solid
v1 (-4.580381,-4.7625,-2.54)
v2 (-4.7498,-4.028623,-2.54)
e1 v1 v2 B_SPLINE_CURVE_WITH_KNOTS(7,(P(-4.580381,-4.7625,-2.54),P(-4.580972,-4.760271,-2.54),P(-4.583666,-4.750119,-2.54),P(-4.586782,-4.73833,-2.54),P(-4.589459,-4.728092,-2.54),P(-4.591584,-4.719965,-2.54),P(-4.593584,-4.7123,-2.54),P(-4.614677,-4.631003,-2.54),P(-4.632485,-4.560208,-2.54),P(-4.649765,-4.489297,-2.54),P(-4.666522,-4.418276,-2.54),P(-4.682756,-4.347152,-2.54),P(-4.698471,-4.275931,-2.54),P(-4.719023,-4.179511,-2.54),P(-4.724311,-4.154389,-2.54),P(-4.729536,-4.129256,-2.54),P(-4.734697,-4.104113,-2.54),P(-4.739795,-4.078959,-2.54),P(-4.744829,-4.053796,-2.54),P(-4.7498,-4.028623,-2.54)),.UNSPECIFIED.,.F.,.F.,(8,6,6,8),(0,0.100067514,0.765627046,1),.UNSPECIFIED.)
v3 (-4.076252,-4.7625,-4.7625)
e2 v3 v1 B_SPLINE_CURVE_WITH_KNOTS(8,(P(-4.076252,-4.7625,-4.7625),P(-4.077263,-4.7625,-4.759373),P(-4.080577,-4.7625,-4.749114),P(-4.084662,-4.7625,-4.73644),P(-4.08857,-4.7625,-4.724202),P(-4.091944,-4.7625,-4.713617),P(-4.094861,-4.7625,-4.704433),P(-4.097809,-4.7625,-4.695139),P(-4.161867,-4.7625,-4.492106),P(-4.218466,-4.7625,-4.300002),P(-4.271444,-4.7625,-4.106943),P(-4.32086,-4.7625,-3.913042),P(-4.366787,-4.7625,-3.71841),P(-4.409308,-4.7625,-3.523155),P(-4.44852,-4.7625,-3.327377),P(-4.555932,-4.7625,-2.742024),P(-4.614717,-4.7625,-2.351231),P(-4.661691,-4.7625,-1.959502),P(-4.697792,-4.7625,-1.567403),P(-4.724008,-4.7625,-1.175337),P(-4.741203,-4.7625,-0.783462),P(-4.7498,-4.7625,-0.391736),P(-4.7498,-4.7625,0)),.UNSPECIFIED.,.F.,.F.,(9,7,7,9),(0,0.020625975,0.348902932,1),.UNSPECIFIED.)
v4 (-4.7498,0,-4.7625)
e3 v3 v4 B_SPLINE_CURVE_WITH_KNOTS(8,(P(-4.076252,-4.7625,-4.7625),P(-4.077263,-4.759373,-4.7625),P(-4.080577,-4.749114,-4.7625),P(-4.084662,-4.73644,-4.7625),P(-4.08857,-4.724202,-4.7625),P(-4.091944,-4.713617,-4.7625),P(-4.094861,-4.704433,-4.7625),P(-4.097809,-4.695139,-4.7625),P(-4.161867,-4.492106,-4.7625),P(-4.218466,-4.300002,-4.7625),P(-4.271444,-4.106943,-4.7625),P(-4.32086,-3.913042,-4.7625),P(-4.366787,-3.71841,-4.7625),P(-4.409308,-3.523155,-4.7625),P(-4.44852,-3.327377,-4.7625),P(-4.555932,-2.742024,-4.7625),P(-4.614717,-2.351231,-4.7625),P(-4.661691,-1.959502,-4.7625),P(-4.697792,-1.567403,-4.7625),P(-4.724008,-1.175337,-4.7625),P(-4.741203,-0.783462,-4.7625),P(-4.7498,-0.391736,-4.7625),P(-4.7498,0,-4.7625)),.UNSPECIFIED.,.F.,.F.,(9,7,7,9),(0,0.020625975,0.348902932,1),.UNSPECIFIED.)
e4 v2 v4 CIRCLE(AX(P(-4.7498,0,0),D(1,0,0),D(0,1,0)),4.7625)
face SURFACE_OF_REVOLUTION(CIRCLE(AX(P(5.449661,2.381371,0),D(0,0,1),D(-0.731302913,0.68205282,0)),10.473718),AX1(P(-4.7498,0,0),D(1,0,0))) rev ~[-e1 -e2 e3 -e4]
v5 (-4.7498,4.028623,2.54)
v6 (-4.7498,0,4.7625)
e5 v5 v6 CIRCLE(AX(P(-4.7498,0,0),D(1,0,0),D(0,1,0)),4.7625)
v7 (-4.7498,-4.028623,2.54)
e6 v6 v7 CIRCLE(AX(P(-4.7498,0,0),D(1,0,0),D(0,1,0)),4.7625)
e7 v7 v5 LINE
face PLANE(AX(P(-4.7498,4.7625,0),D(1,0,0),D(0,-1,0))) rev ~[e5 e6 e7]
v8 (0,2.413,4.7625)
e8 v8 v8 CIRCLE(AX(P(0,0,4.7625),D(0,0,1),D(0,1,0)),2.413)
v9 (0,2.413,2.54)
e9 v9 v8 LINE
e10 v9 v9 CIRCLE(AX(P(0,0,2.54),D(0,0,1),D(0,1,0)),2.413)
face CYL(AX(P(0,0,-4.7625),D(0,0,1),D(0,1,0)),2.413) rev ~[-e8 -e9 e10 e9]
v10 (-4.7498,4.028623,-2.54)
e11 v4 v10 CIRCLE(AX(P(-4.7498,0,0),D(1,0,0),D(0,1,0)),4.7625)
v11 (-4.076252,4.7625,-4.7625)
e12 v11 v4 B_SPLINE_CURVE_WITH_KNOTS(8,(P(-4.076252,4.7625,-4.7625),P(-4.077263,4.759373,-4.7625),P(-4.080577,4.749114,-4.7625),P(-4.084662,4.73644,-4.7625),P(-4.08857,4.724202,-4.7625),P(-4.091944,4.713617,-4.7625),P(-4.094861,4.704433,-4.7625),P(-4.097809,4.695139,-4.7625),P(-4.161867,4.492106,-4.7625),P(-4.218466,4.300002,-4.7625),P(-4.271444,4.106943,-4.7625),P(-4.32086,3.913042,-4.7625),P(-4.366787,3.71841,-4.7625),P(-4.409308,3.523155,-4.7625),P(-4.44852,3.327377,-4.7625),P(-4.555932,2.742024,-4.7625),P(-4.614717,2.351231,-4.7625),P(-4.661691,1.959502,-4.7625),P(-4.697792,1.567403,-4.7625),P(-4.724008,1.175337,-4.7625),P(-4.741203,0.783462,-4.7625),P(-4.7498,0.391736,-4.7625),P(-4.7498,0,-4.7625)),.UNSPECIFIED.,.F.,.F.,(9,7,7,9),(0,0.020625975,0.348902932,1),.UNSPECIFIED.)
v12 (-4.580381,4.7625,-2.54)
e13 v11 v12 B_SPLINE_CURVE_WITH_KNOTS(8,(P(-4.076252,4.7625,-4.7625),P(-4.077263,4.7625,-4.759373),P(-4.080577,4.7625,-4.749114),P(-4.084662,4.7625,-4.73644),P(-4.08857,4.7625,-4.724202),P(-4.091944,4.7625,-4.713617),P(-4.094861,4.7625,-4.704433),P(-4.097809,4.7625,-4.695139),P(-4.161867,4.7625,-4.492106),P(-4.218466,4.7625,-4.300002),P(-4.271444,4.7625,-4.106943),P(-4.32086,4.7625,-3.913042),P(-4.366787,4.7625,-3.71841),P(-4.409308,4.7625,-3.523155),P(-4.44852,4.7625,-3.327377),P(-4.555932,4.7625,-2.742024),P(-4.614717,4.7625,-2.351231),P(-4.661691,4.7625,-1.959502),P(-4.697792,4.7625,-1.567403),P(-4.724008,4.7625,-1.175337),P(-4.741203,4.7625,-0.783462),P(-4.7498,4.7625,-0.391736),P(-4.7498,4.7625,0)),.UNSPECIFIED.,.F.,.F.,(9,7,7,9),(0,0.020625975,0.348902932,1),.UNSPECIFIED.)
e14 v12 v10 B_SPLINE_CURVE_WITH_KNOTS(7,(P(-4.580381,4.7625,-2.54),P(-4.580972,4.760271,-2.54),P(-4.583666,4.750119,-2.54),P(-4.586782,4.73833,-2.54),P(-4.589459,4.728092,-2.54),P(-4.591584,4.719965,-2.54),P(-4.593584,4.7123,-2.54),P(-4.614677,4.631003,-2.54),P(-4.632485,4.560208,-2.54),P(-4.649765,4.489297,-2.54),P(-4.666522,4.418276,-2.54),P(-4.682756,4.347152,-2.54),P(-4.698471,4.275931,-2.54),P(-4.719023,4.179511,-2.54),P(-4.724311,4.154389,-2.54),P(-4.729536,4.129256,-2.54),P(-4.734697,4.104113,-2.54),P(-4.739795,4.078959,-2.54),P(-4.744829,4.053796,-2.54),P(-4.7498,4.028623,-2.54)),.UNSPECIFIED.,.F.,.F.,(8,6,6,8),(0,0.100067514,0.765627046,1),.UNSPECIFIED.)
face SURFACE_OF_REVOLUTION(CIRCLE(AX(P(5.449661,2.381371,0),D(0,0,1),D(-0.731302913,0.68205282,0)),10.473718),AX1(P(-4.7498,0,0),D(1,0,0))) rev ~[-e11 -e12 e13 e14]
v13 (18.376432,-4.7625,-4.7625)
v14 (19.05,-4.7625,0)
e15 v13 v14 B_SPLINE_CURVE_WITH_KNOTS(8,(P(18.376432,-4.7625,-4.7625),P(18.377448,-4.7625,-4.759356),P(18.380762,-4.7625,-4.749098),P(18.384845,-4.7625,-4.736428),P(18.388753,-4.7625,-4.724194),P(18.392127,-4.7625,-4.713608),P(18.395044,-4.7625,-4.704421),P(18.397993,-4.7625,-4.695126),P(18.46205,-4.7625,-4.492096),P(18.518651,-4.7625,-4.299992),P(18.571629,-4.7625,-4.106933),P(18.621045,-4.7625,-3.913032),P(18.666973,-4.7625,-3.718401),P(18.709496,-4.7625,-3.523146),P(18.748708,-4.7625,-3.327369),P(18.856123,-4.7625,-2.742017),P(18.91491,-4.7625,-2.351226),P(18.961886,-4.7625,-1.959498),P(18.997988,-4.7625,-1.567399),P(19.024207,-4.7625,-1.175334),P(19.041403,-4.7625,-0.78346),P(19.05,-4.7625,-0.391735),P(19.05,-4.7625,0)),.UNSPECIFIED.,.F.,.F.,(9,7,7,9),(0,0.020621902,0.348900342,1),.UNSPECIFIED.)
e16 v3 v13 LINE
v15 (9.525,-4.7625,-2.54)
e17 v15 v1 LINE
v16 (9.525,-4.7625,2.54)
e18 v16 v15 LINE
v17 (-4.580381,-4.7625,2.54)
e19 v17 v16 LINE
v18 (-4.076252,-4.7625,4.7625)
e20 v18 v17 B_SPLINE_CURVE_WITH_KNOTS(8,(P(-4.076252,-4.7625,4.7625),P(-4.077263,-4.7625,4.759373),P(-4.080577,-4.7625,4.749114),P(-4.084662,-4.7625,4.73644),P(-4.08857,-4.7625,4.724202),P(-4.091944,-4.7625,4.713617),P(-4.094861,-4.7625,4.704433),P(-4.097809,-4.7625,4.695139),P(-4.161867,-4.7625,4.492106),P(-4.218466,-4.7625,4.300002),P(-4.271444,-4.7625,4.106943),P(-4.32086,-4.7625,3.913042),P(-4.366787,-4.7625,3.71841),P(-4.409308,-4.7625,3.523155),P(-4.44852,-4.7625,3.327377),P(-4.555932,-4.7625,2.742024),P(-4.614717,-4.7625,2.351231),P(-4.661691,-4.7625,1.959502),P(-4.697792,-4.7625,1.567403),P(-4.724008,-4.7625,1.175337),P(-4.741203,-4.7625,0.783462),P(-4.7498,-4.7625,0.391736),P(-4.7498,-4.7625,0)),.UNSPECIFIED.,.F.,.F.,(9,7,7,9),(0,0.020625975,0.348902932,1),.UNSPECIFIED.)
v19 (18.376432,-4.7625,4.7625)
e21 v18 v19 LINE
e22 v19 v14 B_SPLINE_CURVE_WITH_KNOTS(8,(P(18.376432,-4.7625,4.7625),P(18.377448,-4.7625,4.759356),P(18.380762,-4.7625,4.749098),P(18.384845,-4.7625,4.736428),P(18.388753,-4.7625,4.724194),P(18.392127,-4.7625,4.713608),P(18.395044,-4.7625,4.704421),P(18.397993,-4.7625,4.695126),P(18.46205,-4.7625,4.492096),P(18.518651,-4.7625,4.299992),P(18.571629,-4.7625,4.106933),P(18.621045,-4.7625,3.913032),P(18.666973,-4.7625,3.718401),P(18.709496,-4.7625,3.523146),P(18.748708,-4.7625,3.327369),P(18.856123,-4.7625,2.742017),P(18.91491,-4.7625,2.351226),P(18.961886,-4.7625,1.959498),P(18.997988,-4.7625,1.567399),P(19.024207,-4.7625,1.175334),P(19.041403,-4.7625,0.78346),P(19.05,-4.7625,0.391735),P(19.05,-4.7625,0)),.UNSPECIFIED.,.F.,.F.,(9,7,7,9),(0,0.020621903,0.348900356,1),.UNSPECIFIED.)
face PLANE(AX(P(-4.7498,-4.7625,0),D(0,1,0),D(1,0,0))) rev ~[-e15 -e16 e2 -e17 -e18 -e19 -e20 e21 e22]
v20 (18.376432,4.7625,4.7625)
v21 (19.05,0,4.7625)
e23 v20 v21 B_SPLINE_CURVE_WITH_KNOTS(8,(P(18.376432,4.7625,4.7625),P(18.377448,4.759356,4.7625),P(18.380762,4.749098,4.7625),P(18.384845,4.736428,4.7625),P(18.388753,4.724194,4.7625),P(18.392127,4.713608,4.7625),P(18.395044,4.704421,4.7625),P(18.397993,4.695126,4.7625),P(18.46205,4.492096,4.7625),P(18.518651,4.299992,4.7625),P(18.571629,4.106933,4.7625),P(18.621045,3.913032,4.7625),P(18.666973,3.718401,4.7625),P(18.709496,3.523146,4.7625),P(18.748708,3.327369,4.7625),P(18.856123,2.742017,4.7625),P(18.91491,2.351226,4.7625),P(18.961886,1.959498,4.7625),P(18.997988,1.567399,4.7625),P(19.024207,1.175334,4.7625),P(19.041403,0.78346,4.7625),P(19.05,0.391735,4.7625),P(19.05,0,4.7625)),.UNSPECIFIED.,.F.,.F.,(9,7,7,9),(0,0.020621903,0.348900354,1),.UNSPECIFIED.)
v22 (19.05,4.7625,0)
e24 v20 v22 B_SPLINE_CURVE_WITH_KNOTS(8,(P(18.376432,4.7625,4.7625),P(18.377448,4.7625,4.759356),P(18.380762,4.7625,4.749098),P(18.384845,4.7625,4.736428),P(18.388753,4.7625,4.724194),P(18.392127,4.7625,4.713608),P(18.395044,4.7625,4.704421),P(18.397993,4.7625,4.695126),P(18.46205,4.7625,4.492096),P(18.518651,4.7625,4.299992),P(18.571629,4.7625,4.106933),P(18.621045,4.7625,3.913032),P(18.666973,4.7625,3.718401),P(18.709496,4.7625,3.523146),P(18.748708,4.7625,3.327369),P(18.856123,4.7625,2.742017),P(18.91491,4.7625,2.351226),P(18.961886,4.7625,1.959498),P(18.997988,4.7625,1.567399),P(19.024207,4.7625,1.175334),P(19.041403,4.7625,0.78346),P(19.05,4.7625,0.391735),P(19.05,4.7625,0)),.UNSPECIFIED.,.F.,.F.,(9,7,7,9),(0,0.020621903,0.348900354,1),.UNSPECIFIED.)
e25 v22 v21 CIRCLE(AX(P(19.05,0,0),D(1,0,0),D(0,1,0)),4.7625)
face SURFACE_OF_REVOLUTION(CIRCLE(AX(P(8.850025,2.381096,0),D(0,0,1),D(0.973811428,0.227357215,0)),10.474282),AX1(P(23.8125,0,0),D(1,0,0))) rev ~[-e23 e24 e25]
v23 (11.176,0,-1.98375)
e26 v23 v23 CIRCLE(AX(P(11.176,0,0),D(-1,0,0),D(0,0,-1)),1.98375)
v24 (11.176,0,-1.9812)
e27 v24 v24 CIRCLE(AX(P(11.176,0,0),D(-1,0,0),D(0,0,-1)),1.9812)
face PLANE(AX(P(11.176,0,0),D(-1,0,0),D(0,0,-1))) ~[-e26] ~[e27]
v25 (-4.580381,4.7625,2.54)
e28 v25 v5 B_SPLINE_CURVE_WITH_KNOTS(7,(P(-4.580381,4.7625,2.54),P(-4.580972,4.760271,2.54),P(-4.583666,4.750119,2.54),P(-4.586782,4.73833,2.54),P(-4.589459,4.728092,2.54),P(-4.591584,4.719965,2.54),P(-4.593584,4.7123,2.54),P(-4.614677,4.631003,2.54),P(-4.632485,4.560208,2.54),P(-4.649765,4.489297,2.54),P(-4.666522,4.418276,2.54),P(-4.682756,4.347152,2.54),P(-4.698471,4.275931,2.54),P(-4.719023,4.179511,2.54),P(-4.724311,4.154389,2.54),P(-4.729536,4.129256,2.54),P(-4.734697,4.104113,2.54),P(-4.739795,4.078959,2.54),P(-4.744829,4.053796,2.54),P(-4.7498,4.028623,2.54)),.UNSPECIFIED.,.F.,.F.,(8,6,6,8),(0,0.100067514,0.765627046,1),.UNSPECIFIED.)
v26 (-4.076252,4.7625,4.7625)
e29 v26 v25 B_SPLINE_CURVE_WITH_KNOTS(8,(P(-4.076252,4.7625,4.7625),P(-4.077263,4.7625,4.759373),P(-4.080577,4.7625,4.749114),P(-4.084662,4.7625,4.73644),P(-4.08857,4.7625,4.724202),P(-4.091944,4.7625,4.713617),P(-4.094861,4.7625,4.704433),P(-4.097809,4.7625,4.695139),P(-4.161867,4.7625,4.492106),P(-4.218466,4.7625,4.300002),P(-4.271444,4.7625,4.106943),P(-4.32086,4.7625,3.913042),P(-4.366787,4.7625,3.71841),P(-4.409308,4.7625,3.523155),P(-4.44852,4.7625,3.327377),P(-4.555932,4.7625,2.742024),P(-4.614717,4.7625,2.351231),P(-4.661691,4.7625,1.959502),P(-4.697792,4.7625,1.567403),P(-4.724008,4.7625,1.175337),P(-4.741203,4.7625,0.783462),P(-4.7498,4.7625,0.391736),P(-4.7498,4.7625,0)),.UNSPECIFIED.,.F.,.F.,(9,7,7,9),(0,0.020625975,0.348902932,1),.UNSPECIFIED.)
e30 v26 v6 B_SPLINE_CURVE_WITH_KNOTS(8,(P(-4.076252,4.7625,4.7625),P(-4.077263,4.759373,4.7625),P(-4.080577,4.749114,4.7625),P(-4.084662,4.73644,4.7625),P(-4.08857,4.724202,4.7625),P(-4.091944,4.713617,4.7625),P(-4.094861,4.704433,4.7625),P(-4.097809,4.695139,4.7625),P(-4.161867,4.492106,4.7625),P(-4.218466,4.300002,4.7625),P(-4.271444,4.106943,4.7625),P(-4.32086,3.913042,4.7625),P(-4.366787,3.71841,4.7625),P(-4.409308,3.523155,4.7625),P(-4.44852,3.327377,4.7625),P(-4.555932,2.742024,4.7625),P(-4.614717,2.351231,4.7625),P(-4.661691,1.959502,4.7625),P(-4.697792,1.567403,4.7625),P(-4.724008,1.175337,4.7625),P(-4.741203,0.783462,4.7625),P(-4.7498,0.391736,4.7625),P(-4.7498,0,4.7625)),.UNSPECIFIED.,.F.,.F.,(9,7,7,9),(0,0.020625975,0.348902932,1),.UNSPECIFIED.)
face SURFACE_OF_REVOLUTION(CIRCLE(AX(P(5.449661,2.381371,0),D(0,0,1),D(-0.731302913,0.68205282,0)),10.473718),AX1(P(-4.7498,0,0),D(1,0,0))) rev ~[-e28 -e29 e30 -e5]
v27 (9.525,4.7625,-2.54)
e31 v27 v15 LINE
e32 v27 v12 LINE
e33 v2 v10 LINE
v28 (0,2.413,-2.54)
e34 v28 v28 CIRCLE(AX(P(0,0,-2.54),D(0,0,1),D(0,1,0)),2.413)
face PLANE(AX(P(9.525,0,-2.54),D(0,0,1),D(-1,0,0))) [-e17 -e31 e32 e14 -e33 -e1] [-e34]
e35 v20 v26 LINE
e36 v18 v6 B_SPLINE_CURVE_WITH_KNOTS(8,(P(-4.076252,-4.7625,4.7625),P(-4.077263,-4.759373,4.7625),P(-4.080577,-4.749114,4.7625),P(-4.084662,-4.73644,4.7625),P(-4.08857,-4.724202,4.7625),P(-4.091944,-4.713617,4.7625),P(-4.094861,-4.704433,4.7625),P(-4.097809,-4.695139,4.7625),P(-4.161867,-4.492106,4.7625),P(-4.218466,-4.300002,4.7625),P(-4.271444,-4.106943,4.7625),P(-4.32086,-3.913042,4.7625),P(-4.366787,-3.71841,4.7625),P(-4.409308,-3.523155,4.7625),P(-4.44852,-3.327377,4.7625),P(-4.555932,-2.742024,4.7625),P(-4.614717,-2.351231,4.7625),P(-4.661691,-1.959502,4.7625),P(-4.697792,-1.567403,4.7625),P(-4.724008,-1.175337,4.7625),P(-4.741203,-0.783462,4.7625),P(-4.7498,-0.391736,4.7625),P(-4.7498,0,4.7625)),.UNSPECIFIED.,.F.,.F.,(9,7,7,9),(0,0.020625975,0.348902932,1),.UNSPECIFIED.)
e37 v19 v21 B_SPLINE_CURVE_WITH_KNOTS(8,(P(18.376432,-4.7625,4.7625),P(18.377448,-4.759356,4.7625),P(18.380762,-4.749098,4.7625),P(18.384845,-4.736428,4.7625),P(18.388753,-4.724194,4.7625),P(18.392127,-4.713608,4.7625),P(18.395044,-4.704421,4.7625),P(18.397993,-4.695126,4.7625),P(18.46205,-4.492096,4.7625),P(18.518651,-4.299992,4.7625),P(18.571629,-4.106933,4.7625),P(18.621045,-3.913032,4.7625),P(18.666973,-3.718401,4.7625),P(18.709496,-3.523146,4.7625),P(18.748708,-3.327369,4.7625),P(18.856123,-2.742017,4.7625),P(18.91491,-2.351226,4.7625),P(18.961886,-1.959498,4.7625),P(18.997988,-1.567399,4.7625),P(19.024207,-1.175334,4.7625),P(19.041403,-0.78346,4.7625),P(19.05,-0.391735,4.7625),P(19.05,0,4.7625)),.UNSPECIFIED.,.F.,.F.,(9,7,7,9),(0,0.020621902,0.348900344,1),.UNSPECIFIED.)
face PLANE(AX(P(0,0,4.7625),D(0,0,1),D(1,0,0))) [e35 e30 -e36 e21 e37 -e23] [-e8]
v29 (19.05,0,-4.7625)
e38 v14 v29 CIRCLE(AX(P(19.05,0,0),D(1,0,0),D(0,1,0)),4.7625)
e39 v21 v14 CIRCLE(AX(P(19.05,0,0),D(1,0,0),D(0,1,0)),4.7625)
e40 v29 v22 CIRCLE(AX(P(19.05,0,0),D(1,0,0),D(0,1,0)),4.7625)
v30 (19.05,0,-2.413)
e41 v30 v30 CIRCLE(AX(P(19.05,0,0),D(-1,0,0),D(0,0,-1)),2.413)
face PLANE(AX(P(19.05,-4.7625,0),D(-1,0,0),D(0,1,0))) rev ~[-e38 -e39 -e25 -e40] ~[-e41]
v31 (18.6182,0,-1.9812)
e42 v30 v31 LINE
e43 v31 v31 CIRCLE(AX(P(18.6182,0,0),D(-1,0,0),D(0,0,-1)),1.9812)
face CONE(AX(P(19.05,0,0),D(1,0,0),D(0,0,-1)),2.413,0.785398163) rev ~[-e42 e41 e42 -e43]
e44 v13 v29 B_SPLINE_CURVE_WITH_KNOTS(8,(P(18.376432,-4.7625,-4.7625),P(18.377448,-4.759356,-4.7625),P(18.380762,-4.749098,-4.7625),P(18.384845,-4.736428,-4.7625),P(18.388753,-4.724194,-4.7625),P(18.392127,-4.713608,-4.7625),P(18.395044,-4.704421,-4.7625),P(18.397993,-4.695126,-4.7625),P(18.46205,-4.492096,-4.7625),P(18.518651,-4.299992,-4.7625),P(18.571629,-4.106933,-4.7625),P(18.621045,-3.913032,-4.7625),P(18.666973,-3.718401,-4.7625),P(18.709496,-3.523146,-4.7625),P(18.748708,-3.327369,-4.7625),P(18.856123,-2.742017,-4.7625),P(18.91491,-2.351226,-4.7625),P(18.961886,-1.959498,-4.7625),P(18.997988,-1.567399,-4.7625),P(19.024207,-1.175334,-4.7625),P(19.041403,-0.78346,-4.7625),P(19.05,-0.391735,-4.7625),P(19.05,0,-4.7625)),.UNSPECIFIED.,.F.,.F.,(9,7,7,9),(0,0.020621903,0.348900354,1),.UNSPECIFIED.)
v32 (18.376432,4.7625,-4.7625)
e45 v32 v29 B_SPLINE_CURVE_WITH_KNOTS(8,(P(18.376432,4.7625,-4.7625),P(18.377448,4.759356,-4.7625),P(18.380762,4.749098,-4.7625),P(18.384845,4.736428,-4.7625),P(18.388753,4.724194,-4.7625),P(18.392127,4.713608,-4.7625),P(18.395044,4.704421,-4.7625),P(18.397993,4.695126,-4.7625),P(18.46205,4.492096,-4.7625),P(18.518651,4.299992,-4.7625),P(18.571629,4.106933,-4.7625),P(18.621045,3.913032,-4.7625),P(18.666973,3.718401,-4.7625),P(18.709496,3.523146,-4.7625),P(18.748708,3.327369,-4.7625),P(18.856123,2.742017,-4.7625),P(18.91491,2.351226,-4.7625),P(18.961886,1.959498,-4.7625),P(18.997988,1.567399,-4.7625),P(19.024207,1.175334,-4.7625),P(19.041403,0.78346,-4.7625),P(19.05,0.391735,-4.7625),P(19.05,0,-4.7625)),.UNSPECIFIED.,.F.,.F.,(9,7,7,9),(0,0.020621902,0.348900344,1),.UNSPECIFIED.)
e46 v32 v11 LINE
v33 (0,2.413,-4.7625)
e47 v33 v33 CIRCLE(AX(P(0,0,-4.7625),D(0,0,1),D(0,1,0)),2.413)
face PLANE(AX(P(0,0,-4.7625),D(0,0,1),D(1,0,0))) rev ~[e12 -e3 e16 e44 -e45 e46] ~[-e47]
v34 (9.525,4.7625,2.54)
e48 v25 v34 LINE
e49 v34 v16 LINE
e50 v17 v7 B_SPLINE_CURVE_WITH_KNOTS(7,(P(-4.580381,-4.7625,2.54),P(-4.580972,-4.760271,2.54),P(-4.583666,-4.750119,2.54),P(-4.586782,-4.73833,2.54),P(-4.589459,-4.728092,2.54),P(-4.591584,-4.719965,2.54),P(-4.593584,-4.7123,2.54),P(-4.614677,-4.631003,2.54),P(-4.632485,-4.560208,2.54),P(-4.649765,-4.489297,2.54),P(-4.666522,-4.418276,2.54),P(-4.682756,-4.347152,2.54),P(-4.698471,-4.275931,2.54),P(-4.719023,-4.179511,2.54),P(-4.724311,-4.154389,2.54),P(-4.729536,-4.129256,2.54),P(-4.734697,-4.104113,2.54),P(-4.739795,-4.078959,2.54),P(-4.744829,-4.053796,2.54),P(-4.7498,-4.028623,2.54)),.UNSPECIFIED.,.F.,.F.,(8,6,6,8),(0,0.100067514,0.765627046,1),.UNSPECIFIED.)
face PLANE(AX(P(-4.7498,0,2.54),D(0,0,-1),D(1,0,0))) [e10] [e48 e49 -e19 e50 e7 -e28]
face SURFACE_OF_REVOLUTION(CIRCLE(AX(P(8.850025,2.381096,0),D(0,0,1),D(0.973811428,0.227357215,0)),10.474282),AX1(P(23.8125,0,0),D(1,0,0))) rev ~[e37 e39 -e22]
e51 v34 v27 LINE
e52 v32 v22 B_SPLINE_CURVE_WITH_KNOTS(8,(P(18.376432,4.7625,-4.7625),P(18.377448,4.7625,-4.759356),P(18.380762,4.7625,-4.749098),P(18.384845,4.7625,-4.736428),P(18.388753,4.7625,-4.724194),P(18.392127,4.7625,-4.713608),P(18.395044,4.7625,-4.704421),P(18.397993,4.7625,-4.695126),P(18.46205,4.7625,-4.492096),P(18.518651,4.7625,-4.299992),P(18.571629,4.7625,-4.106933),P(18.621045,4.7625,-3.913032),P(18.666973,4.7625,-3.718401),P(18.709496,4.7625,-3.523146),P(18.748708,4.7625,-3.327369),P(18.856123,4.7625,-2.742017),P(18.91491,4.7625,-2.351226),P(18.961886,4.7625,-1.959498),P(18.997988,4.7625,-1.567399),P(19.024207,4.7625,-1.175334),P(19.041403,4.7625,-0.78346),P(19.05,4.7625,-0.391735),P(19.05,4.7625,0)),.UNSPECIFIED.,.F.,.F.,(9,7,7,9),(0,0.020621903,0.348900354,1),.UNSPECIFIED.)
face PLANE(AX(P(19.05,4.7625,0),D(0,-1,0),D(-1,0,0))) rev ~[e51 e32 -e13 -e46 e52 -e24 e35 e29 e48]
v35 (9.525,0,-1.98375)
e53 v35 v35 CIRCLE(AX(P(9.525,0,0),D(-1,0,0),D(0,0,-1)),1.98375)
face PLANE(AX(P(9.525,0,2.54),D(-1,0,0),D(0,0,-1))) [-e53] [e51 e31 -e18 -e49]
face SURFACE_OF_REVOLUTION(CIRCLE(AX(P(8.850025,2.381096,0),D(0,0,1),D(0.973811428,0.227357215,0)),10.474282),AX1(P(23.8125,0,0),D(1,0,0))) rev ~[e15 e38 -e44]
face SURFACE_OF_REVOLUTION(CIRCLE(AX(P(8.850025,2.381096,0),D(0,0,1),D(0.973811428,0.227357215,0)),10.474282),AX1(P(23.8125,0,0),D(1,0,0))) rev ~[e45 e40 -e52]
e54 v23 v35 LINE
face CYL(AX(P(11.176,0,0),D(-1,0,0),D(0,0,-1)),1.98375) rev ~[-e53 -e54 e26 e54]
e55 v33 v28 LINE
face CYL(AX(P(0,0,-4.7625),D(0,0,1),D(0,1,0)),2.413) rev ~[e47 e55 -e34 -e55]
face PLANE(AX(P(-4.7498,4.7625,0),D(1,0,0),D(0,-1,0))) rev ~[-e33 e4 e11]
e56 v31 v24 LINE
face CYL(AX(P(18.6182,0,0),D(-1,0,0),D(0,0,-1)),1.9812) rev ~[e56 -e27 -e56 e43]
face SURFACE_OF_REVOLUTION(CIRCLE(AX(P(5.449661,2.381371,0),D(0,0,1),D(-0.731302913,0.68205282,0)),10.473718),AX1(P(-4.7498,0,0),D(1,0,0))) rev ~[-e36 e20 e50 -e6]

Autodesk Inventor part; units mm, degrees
sketch "Sketch_1" plane through (0, 0, 0) normal (0, 0, 1) x (1, 0, 0)
  line L0 (-4.7498, 4.7625) -> (-4.7498, -4.7625)
  line L1 (-4.7498, -4.7625) -> (19.05, -4.7625)
  line L2 (19.05, -4.7625) -> (19.05, 4.7625)
  line L3 (19.05, 4.7625) -> (-4.7498, 4.7625)
extrude "Extrusion1" add sketch "Sketch_1" along normal mid plane 9.525
sketch "Sketch_2" plane through (0, 0, 0) normal (0, 1, 0) x (-1, 0, 0)
  line L0 (4.7498, -2.54) -> (4.7498, 2.54)
  line L1 (4.7498, 2.54) -> (-9.525, 2.54)
  line L2 (-9.525, 2.54) -> (-9.525, -2.54)
  line L3 (-9.525, -2.54) -> (4.7498, -2.54)
extrude "Extrusion2" cut sketch "Sketch_2" along normal mid plane 9.525
sketch "Sketch3" plane through (19.05, -4.7625, 4.7625) normal (1, 0, 0) x (0, 0, -1)
  point P0 (4.7625, 4.7625)
hole "Hole1" at (19.05, 0, 0) direction (-1, 0, 0) diameter 3.9624 depth 7.874 countersink diameter 4.826 countersink angle 90 thread size "10-32 UNF" class "2B" standard "ANSI Unified Screw Threads"
sketch "Sketch4" plane through (11.176, 0, 0) normal (1, 0, 0) x (0, 0, -1)
  point P0 (0, 0)
hole "Hole2" at (11.176, 0, 0) direction (-1, 0, 0) diameter 3.9675 depth 1.651
sketch "Sketch5" plane through (0, 0, -4.7625) normal (0, 0, -1) x (-1, 0, 0)
  point P0 (0, 0)
hole "Hole3" at (0, 0, -4.7625) direction (0, 0, 1) diameter 4.826 depth 9.525
sketch "Sketch_9" plane through (0, 0, 0) normal (0, 0, 1) x (1, 0, 0)
  line L0 (23.8125, 0) -> (19.05, 0)
  line L1 (19.05, 0) -> (19.05, 4.7625)
  arc A0 (19.05, 4.7625) -> (16.51, 9.525) centre (8.8503, 2.3812) ccw
  line L2 (16.51, 9.525) -> (23.8125, 9.525)
  line L3 (23.8125, 9.525) -> (23.8125, 0)
  line L4 (23.8125, 0) -> (19.05, 0)
revolve "Revolution1" cut sketch "Sketch_9" angle 360 about axis through (23.8125, 0, 0) along (1, 0, 0)
sketch "Sketch_10" plane through (0, 0, 0) normal (0, 0, 1) x (1, 0, 0)
  line L0 (-4.7498, 0) -> (-9.5123, 0)
  line L1 (-9.5123, 0) -> (-9.5123, 9.525)
  line L2 (-9.5123, 9.525) -> (-2.2098, 9.525)
  arc A0 (-2.2098, 9.525) -> (-4.7498, 4.7625) centre (5.4499, 2.3812) ccw
  line L3 (-4.7498, 4.7625) -> (-4.7498, 0)
  line L4 (-4.7498, 0) -> (-9.5123, 0)
revolve "Revolution2" cut sketch "Sketch_10" angle 360 about axis through (-4.7498, 0, 0) along (1, 0, 0)
ref_plane "dummy_XY" through (0, 0, 0) normal (0, 0, 1) x (1, 0, 0)
ref_plane "dummy_YZ" through (0, 0, 0) normal (1, 0, 0) x (0, 1, 0)
ref_plane "dummy_ZX" through (0, 0, 0) normal (0, 1, 0) x (0, 0, 1)
ref_plane "h1_XY" through (-4.7498, 4.7625, 0) normal (0, 0, 1) x (1, 0, 0)
ref_plane "h1_YZ" through (-4.7498, 4.7625, 0) normal (1, 0, 0) x (0, 1, 0)
ref_plane "h1_ZX" through (-4.7498, 4.7625, 0) normal (0, 1, 0) x (0, 0, 1)
ref_plane "h2_XY" through (-4.7498, -4.7625, 0) normal (0, 0, 1) x (1, 0, 0)
ref_plane "h2_YZ" through (-4.7498, -4.7625, 0) normal (1, 0, 0) x (0, 1, 0)
ref_plane "h2_ZX" through (-4.7498, -4.7625, 0) normal (0, 1, 0) x (0, 0, 1)
ref_plane "l1_XY" through (19.05, 4.7625, 0) normal (0, 0, 1) x (1, 0, 0)
ref_plane "l1_YZ" through (19.05, 4.7625, 0) normal (1, 0, 0) x (0, 1, 0)
ref_plane "l1_ZX" through (19.05, 4.7625, 0) normal (0, 1, 0) x (0, 0, 1)
ref_plane "l11_XY" through (19.05, 4.7625, 0) normal (0, 0, 1) x (1, 0, 0)
ref_plane "l11_YZ" through (19.05, 4.7625, 0) normal (1, 0, 0) x (0, 1, 0)
ref_plane "l11_ZX" through (19.05, 4.7625, 0) normal (0, 1, 0) x (0, 0, 1)
ref_plane "l12_XY" through (0, 4.7625, 0) normal (0, 0, 1) x (1, 0, 0)
ref_plane "l12_YZ" through (0, 4.7625, 0) normal (1, 0, 0) x (0, 1, 0)
ref_plane "l12_ZX" through (0, 4.7625, 0) normal (0, 1, 0) x (0, 0, 1)
ref_plane "l2_XY" through (-4.7498, 4.7625, 0) normal (0, 0, 1) x (1, 0, 0)
ref_plane "l2_YZ" through (-4.7498, 4.7625, 0) normal (1, 0, 0) x (0, 1, 0)
ref_plane "l2_ZX" through (-4.7498, 4.7625, 0) normal (0, 1, 0) x (0, 0, 1)
ref_plane "l21_XY" through (19.05, 0, 0) normal (0, 1, 0) x (1, 0, 0)
ref_plane "l21_YZ" through (19.05, 0, 0) normal (1, 0, 0) x (0, 0, -1)
ref_plane "l21_ZX" through (19.05, 0, 0) normal (0, 0, -1) x (0, 1, 0)
ref_plane "l22_XY" through (9.525, 0, 0) normal (0, 1, 0) x (1, 0, 0)
ref_plane "l22_YZ" through (9.525, 0, 0) normal (1, 0, 0) x (0, 0, -1)
ref_plane "l22_ZX" through (9.525, 0, 0) normal (0, 0, -1) x (0, 1, 0)
ref_plane "piston_rod_clevis_XY" through (19.05, 0, 0) normal (1, 0, 0) x (0, 0, -1)
ref_plane "piston_rod_clevis_YZ" through (19.05, 0, 0) normal (0, 0, -1) x (0, 1, 0)
ref_plane "piston_rod_clevis_ZX" through (19.05, 0, 0) normal (0, 1, 0) x (1, 0, 0)
ref_plane "rod_clevis_body_XY" through (0, 0, 0) normal (0, 0, 1) x (1, 0, 0)
ref_plane "rod_clevis_body_YZ" through (0, 0, 0) normal (1, 0, 0) x (0, 1, 0)
ref_plane "rod_clevis_body_ZX" through (0, 0, 0) normal (0, 1, 0) x (0, 0, 1)
ref_plane "th1_XY" through (19.05, 2.413, 0) normal (0, 0, 1) x (1, 0, 0)
ref_plane "th1_YZ" through (19.05, 2.413, 0) normal (1, 0, 0) x (0, 1, 0)
ref_plane "th1_ZX" through (19.05, 2.413, 0) normal (0, 1, 0) x (0, 0, 1)
ref_plane "th2_XY" through (19.05, -2.413, 0) normal (0, 0, 1) x (1, 0, 0)
ref_plane "th2_YZ" through (19.05, -2.413, 0) normal (1, 0, 0) x (0, 1, 0)
ref_plane "th2_ZX" through (19.05, -2.413, 0) normal (0, 1, 0) x (0, 0, 1)
ref_plane "to_cylinder_XY" through (9.525, 0, 0) normal (1, 0, 0) x (0, 0, -1)
ref_plane "to_cylinder_YZ" through (9.525, 0, 0) normal (0, 0, -1) x (0, 1, 0)
ref_plane "to_cylinder_ZX" through (9.525, 0, 0) normal (0, 1, 0) x (1, 0, 0)
ref_plane "w1_XY" through (19.05, 0, -4.7625) normal (0, 1, 0) x (1, 0, 0)
ref_plane "w1_YZ" through (19.05, 0, -4.7625) normal (1, 0, 0) x (0, 0, -1)
ref_plane "w1_ZX" through (19.05, 0, -4.7625) normal (0, 0, -1) x (0, 1, 0)
ref_plane "w11_XY" through (-4.7498, 0, -2.54) normal (0, 1, 0) x (1, 0, 0)
ref_plane "w11_YZ" through (-4.7498, 0, -2.54) normal (1, 0, 0) x (0, 0, -1)
ref_plane "w11_ZX" through (-4.7498, 0, -2.54) normal (0, 0, -1) x (0, 1, 0)
ref_plane "w12_XY" through (-4.7498, 0, 2.54) normal (0, 1, 0) x (1, 0, 0)
ref_plane "w12_YZ" through (-4.7498, 0, 2.54) normal (1, 0, 0) x (0, 0, -1)
ref_plane "w12_ZX" through (-4.7498, 0, 2.54) normal (0, 0, -1) x (0, 1, 0)
ref_plane "w2_XY" through (19.05, 0, 4.7625) normal (0, 1, 0) x (1, 0, 0)
ref_plane "w2_YZ" through (19.05, 0, 4.7625) normal (1, 0, 0) x (0, 0, -1)
ref_plane "w2_ZX" through (19.05, 0, 4.7625) normal (0, 0, -1) x (0, 1, 0)
properties part number "D-14043"
